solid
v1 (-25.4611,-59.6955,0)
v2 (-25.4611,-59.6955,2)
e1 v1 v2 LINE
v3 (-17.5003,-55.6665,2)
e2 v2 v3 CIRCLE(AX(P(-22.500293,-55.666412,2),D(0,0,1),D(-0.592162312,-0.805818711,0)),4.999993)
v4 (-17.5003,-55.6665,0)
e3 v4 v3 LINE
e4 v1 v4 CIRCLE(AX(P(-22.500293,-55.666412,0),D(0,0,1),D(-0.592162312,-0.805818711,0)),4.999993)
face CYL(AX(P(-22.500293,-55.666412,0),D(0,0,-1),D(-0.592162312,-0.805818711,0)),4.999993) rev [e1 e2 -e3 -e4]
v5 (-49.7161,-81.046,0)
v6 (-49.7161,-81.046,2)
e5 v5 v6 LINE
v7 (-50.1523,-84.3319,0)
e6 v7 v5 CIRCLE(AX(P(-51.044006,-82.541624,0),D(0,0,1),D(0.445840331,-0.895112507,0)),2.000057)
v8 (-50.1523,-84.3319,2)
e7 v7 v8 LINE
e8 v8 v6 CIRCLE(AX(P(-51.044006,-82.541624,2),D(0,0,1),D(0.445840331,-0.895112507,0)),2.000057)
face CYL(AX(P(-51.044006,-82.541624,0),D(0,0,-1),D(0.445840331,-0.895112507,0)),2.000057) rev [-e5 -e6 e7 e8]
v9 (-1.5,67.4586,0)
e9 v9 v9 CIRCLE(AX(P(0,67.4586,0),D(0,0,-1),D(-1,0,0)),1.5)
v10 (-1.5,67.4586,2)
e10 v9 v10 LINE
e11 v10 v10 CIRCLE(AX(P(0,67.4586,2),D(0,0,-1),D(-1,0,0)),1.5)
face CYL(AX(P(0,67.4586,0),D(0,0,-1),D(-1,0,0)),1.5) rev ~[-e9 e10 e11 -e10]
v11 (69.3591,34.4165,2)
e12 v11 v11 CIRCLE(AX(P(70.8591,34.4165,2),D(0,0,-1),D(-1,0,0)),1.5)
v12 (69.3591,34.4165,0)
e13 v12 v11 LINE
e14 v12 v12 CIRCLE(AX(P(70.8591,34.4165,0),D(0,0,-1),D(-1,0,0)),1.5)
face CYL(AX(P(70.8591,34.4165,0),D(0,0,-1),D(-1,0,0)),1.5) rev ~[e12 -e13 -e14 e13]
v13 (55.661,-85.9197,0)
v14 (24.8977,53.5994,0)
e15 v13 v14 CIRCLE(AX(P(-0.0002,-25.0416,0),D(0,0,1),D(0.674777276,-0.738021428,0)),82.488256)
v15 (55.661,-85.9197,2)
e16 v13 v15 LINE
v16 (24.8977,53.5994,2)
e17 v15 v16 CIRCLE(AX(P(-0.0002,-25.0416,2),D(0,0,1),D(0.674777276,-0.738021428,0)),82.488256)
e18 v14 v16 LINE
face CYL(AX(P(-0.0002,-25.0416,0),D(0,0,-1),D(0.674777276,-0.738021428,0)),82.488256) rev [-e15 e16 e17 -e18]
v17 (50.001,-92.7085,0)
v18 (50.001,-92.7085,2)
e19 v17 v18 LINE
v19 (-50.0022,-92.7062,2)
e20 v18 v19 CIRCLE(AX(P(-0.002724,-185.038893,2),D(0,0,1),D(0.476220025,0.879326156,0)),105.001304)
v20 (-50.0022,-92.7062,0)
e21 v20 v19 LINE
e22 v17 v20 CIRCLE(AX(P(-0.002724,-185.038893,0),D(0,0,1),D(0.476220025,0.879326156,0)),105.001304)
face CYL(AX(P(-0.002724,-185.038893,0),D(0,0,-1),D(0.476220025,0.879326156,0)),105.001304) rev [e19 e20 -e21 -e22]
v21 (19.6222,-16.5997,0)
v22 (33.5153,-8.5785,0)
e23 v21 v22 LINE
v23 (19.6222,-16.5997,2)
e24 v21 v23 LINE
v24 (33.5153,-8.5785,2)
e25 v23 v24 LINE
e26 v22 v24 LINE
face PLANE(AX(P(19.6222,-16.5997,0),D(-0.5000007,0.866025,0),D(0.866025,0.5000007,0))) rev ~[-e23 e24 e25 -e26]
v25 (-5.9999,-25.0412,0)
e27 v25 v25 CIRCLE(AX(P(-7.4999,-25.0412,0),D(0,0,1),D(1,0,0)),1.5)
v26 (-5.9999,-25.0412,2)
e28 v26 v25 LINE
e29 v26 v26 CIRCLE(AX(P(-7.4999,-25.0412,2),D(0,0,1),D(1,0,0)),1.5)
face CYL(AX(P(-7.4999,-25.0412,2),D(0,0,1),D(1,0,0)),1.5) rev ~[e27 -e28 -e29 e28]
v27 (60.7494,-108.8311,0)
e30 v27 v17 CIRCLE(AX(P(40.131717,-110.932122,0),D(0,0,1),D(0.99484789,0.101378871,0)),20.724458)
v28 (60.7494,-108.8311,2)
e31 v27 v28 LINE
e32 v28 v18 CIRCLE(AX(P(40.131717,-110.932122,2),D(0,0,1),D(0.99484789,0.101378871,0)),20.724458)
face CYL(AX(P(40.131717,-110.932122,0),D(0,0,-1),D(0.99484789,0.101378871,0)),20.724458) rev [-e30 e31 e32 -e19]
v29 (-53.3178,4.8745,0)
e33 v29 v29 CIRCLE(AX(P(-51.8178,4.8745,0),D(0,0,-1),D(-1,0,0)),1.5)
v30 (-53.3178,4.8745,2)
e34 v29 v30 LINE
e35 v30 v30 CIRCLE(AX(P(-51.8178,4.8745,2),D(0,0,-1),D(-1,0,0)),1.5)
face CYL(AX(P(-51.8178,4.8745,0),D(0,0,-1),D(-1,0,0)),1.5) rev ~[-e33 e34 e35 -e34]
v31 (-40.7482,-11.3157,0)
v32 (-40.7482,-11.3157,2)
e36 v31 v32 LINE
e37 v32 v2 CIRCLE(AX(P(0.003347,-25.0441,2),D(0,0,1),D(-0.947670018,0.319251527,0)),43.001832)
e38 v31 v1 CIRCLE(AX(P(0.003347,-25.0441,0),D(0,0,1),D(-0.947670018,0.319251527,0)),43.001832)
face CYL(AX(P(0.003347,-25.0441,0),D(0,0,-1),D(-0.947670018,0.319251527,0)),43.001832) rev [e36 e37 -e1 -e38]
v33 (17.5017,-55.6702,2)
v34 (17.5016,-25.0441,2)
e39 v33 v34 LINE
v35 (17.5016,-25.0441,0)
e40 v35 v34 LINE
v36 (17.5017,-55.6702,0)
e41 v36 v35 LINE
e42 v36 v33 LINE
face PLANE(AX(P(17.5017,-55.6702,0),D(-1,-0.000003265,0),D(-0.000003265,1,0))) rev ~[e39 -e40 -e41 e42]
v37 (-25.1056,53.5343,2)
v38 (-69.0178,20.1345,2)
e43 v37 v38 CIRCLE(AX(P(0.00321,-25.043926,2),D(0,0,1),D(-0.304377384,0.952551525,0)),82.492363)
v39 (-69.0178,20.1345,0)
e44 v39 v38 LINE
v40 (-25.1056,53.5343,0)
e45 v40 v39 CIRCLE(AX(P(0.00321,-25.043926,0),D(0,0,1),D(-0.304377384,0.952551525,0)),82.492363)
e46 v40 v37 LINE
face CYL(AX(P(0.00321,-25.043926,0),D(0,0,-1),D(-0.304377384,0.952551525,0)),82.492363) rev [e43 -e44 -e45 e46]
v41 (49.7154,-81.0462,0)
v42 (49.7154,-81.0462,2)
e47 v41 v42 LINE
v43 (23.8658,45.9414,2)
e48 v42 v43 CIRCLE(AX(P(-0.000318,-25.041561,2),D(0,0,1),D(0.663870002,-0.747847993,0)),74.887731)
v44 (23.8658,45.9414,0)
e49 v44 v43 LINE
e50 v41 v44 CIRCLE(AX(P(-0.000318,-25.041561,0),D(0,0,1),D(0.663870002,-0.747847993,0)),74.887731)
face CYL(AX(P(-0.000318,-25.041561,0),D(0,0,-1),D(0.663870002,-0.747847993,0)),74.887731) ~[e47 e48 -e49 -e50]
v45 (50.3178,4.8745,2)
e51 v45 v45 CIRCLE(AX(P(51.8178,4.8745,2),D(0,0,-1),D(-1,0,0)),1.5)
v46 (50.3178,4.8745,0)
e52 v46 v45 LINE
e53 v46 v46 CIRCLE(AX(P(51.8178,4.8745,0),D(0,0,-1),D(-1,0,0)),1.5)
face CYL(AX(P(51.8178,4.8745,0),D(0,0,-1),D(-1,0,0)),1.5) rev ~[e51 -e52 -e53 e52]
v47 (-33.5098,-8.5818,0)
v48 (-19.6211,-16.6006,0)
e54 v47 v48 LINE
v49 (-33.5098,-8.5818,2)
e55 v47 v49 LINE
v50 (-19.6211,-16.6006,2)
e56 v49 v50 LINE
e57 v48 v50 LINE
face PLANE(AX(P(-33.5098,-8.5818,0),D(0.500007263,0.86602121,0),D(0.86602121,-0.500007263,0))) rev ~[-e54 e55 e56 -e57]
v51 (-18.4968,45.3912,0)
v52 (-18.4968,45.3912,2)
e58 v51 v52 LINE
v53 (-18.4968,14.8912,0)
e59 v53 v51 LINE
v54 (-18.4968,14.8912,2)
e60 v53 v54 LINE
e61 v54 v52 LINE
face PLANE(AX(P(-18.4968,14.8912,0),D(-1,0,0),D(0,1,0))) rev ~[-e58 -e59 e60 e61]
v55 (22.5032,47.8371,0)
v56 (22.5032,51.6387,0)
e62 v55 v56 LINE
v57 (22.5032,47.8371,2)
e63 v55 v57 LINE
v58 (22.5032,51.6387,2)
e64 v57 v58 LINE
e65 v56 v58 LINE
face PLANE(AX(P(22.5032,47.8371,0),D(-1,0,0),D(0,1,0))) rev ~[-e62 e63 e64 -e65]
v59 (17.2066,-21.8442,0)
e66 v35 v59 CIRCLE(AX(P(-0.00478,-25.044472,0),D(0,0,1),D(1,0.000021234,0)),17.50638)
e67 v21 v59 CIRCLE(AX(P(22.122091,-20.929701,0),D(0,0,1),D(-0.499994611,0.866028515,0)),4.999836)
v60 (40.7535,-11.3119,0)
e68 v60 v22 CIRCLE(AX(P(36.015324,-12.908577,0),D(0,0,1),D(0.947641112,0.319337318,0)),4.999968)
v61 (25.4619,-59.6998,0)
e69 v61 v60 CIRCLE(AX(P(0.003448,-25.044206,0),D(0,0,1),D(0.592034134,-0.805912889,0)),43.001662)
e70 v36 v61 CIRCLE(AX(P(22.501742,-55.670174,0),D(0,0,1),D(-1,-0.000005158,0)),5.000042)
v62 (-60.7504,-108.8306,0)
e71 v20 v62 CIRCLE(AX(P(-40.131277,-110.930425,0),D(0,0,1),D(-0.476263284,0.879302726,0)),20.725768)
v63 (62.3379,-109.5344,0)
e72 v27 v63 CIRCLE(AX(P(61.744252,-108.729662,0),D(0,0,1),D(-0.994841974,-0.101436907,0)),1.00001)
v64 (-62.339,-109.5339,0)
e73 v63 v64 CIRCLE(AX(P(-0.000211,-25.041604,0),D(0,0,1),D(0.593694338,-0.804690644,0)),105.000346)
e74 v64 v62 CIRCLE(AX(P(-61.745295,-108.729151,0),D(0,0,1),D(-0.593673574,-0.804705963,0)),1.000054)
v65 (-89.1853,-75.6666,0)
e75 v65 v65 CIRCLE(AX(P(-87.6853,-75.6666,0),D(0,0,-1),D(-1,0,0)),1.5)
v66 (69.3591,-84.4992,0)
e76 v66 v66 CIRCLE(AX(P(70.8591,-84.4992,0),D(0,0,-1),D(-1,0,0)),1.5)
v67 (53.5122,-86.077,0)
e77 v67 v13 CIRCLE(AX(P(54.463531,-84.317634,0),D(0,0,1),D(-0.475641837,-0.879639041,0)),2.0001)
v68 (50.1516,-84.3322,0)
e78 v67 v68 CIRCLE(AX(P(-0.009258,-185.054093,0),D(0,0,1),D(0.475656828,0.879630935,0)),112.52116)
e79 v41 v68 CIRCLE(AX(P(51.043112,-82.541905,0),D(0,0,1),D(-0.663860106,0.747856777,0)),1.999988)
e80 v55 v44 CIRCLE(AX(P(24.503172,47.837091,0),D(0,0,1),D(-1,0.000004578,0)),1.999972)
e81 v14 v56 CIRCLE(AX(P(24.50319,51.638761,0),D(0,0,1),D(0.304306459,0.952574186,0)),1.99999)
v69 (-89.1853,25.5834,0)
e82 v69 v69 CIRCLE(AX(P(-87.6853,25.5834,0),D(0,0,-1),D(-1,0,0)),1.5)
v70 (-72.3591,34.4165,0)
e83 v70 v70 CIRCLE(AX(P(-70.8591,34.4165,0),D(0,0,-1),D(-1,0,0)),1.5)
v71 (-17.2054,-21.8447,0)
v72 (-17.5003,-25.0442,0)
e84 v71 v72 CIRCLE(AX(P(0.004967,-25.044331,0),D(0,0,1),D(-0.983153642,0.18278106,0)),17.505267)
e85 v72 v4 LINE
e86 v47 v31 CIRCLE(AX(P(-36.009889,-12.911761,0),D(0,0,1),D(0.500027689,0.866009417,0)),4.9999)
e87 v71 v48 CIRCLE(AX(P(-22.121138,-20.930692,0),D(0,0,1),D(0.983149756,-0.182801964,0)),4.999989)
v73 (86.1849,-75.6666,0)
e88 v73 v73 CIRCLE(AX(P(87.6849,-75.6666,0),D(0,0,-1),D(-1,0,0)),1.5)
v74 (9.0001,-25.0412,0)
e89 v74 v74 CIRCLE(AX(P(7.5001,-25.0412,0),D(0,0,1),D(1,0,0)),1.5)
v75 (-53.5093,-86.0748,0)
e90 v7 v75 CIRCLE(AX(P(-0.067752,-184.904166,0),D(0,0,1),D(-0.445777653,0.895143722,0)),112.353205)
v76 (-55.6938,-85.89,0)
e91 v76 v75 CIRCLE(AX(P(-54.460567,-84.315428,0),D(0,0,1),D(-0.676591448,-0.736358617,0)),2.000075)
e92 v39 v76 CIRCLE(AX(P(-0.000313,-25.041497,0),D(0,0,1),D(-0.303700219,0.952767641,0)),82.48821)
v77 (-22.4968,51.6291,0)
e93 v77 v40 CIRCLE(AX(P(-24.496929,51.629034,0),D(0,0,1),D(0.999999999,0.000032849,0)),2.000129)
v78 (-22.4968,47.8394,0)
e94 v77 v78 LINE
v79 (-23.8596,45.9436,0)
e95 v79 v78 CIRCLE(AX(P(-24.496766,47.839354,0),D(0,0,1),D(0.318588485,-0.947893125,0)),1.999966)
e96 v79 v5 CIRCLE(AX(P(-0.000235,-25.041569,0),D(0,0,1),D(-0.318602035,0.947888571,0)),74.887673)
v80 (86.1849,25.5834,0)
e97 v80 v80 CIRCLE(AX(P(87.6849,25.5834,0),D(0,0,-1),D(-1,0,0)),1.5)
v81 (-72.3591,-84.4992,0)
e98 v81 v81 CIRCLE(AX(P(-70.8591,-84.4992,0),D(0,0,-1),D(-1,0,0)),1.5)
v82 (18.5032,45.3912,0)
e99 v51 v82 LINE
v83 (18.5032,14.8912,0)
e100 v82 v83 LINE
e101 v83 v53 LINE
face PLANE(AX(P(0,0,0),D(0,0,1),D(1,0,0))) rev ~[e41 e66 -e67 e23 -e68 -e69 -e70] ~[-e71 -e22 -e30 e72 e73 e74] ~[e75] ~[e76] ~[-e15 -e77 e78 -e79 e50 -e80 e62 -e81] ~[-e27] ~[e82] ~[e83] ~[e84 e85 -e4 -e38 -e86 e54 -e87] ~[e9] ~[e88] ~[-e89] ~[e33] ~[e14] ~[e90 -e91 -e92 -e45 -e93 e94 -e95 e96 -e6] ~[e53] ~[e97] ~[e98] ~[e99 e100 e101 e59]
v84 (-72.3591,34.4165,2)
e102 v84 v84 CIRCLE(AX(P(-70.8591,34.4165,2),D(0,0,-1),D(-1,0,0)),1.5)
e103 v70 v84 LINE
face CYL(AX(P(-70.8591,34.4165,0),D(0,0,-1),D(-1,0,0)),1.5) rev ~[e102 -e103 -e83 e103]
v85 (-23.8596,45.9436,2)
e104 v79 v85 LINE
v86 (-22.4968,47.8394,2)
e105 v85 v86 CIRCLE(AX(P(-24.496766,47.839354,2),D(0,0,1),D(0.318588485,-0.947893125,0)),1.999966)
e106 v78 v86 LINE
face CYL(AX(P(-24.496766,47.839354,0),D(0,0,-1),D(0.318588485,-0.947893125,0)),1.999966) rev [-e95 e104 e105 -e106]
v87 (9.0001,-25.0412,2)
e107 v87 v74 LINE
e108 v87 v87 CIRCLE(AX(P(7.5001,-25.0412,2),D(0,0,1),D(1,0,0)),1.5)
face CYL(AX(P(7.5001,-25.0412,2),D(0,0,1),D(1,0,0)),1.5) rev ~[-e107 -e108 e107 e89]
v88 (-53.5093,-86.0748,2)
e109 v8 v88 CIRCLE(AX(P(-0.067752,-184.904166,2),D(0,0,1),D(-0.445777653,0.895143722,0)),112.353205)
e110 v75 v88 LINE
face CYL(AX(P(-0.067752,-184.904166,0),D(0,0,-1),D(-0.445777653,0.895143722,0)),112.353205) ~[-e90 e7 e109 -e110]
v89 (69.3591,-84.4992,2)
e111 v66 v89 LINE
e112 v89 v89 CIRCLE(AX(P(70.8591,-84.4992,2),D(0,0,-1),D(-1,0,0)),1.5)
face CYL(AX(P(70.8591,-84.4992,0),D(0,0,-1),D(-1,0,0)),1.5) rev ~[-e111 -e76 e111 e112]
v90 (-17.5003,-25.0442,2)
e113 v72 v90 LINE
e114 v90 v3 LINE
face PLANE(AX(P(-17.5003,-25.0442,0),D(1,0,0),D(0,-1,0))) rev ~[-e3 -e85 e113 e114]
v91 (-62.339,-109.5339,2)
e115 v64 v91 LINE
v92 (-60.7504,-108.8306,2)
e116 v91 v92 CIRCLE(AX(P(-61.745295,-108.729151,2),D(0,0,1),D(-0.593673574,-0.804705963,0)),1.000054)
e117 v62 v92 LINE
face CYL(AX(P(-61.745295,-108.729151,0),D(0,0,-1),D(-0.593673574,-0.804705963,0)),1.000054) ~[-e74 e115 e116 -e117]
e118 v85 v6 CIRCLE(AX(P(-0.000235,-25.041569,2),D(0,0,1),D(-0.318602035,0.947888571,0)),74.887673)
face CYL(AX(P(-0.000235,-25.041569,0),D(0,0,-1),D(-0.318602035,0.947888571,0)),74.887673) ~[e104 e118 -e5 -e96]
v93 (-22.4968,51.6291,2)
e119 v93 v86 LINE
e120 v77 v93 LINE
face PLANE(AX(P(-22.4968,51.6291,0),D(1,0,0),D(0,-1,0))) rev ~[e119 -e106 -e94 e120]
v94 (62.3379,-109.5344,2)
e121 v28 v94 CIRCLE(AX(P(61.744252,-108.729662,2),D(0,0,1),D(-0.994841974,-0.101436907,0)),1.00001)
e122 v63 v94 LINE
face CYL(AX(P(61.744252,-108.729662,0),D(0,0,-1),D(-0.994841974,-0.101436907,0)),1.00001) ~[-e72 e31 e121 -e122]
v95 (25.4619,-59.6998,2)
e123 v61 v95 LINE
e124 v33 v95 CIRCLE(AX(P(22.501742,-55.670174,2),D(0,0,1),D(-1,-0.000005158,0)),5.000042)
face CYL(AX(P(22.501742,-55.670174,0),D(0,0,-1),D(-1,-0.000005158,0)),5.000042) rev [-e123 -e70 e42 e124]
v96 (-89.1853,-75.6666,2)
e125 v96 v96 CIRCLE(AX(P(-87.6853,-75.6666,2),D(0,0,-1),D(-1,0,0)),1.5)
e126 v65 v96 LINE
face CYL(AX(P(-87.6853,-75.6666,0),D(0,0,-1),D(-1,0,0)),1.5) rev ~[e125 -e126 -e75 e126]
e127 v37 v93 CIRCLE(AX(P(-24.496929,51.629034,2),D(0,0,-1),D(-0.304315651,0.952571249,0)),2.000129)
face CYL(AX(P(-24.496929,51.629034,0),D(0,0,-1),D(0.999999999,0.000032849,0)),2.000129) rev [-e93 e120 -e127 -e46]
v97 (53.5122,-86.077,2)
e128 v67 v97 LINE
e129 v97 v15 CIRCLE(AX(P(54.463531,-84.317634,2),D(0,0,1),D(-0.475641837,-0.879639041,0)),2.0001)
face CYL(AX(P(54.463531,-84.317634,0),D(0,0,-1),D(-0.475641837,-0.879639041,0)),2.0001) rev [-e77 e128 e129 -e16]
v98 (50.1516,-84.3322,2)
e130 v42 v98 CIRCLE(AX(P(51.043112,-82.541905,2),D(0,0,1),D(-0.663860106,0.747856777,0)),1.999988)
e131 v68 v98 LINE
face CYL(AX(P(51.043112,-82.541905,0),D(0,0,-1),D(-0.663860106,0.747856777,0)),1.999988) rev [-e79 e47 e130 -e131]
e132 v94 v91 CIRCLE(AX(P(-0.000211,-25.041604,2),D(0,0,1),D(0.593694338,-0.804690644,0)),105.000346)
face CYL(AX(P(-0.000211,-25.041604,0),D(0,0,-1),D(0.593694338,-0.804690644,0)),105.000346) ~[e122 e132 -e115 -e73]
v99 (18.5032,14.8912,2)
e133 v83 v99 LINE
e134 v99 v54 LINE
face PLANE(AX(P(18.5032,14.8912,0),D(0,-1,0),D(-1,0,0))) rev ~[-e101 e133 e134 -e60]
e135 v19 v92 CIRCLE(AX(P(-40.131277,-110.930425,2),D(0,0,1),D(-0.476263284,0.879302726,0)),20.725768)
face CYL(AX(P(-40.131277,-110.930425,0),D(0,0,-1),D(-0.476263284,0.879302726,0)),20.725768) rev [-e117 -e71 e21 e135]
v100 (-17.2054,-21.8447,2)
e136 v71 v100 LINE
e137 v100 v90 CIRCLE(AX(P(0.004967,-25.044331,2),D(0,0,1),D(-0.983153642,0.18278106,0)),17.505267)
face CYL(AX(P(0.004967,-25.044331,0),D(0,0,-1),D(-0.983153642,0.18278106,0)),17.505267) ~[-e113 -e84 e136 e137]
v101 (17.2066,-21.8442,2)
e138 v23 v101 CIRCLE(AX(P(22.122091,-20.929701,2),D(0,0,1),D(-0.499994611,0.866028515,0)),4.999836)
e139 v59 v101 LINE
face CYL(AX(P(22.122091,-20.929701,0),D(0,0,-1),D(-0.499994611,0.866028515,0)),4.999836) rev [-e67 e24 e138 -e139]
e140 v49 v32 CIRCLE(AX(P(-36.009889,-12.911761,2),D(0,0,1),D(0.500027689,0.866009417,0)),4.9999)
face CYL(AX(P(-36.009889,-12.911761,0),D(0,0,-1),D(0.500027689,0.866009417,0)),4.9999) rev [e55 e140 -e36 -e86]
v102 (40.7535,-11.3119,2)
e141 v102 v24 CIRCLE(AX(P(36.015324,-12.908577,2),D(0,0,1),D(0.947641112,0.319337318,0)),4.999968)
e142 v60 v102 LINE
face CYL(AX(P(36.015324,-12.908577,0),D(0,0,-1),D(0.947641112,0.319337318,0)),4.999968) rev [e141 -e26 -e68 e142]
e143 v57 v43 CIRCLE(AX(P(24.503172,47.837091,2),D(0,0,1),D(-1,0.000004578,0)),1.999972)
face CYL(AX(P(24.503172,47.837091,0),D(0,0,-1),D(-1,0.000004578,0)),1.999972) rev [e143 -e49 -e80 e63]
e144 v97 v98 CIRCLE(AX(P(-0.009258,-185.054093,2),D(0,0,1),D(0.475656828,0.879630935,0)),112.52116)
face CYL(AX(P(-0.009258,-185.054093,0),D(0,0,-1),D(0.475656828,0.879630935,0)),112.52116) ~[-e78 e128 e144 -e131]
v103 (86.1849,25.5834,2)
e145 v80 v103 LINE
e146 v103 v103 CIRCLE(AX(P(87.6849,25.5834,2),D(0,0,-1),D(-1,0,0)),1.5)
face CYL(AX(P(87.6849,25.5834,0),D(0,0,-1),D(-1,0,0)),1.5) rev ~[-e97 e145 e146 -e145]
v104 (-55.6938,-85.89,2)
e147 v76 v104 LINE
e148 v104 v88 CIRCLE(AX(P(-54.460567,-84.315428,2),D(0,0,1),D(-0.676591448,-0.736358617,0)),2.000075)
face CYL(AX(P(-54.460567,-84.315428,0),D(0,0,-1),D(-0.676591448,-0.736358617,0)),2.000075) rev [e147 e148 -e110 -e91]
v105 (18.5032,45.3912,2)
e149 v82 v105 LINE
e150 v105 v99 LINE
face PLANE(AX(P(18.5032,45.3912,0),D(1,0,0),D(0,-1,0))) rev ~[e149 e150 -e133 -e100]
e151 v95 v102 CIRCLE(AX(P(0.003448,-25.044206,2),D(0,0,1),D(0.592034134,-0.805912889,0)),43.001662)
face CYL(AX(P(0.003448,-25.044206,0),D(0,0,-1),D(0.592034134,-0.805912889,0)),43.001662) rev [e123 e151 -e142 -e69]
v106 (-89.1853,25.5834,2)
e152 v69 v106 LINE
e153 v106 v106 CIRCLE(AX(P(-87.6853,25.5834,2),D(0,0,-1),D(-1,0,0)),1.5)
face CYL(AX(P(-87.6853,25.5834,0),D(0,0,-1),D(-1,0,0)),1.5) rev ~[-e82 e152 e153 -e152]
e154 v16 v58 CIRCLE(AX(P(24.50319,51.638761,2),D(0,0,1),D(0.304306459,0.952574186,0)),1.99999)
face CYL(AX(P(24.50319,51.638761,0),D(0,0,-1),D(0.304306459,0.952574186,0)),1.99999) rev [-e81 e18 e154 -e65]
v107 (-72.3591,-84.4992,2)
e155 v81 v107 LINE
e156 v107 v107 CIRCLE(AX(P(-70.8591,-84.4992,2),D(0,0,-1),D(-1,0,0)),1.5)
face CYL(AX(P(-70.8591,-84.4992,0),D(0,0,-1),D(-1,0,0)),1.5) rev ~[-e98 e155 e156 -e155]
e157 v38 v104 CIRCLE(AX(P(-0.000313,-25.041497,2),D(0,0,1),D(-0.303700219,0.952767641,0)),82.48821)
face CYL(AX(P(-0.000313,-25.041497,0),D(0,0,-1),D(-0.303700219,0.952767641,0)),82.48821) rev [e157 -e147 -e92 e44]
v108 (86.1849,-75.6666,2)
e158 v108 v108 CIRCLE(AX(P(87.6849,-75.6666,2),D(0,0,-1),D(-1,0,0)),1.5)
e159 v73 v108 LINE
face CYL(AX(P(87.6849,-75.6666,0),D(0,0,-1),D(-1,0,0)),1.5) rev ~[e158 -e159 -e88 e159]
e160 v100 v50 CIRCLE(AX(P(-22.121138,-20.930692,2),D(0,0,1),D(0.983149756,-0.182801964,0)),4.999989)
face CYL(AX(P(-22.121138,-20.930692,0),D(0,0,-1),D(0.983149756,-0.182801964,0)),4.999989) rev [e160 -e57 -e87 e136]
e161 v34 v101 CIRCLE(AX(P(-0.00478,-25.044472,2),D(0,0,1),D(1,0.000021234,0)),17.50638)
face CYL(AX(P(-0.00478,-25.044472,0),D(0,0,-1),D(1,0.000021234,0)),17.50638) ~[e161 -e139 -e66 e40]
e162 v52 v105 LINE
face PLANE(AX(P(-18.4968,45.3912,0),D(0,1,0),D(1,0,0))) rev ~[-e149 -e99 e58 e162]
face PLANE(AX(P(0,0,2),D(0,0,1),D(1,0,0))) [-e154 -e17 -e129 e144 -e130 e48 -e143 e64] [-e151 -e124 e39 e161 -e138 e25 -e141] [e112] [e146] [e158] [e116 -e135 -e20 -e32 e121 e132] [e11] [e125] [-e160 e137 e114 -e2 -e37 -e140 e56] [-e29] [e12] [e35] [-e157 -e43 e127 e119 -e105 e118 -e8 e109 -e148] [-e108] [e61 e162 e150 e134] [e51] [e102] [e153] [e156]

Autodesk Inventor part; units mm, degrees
ref_plane "YZ Plane" through (0, 0, 0) normal (1, 0, 0) x (0, 1, 0)
ref_plane "XZ Plane" through (0, 0, 0) normal (0, 1, 0) x (-1, 0, 0)
ref_plane "XY Plane" through (0, 0, 0) normal (0, 0, 1) x (1, 0, 0)
sketch "Sketch1" plane through (0, 0, 0) normal (0, 0, 1) x (1, 0, 0)
  line L0 (18.5032, 45.3912) -> (18.5032, 14.8912) projected
  line L1 (18.5032, 14.8912) -> (-18.4968, 14.8912) projected
  line L2 (-18.4968, 14.8912) -> (-18.4968, 45.3912) projected
  line L3 (-18.4968, 45.3912) -> (18.5032, 45.3912) projected
  arc A0 (17.5017, -55.6702) -> (25.4619, -59.6998) centre (22.5017, -55.6702) ccw projected
  line L4 (17.5017, -55.6702) -> (17.5016, -25.0441) projected
  arc A1 (17.5016, -25.0441) -> (17.2066, -21.8442) centre (0.0033, -25.0441) ccw projected
  arc A2 (19.6222, -16.5997) -> (17.2066, -21.8442) centre (22.1222, -20.9298) ccw projected
  line L5 (19.6222, -16.5997) -> (33.5153, -8.5785) projected
  arc A3 (40.7535, -11.3119) -> (33.5153, -8.5785) centre (36.0153, -12.9086) ccw projected
  arc A4 (25.4619, -59.6998) -> (40.7535, -11.3119) centre (0.0033, -25.0441) ccw projected
  arc A5 (-17.2054, -21.8447) -> (-19.6211, -16.6006) centre (-22.1212, -20.9307) ccw projected
  arc A6 (-17.2054, -21.8447) -> (-17.5003, -25.0442) centre (0.0033, -25.0441) ccw projected
  line L6 (-17.5003, -25.0442) -> (-17.5003, -55.6665) projected
  arc A7 (-25.4611, -59.6955) -> (-17.5003, -55.6665) centre (-22.5003, -55.6665) ccw projected
  arc A8 (-40.7482, -11.3157) -> (-25.4611, -59.6955) centre (0.0033, -25.0441) ccw projected
  arc A9 (-33.5098, -8.5818) -> (-40.7482, -11.3157) centre (-36.0099, -12.9119) ccw projected
  line L7 (-33.5098, -8.5818) -> (-19.6211, -16.6006) projected
  line L8 (22.5032, 47.8371) -> (22.5032, 51.6387)
  arc A10 (25.1118, 53.5439) -> (22.5032, 51.6387) centre (24.5032, 51.6387) ccw
  arc A11 (-25.1056, 53.5343) -> (-69.0178, 20.1345) centre (0.0033, -25.0441) ccw projected
  arc A12 (-22.4968, 51.6291) -> (-25.1056, 53.5343) centre (-24.4968, 51.6291) ccw
  line L9 (-22.4968, 51.6291) -> (-22.4968, 47.8394)
  arc A13 (53.5122, -86.077) -> (55.8167, -85.7905) centre (54.4635, -84.3178) ccw
  arc A14 (53.5122, -86.077) -> (50.1516, -84.3322) centre (-0.0002, -185.037) ccw
  arc A15 (-50.1523, -84.3319) -> (-53.5093, -86.0748) centre (-0.0002, -185.037) ccw
  arc A16 (-55.8138, -85.7882) -> (-53.5093, -86.0748) centre (-54.4606, -84.3155) ccw
  arc A17 (-62.339, -109.5339) -> (-60.7504, -108.8306) centre (-61.7453, -108.7292) ccw projected
  arc A18 (-50.0022, -92.7062) -> (-60.7504, -108.8306) centre (-40.1313, -110.9304) ccw projected
  arc A19 (50.001, -92.7085) -> (-50.0022, -92.7062) centre (-0.0027, -185.0388) ccw projected
  arc A20 (60.7494, -108.8311) -> (50.001, -92.7085) centre (40.1315, -110.9322) ccw projected
  arc A21 (60.7494, -108.8311) -> (62.3379, -109.5344) centre (61.7442, -108.7297) ccw projected
  arc A22 (62.3379, -109.5344) -> (-62.339, -109.5339) centre (-0.0002, -25.0416) ccw projected
  arc A23 (49.7154, -81.0462) -> (23.8658, 45.9414) centre (-0.0002, -25.0416) ccw
  arc A24 (-23.8596, 45.9436) -> (-49.7161, -81.046) centre (-0.0002, -25.0416) ccw
  arc A25 (55.661, -85.9197) -> (24.8977, 53.5994) centre (-0.0002, -25.0416) ccw
  arc A26 (-25.052, 53.5506) -> (-55.6938, -85.89) centre (-0.0002, -25.0416) ccw
  arc A27 (-50.1523, -84.3319) -> (-49.7161, -81.046) centre (-51.0439, -82.5417) ccw
  arc A28 (49.7154, -81.0462) -> (50.1516, -84.3322) centre (51.0431, -82.5419) ccw
  arc A29 (22.5032, 47.8371) -> (23.8658, 45.9414) centre (24.5032, 47.8371) ccw
  arc A30 (-23.8596, 45.9436) -> (-22.4968, 47.8394) centre (-24.4968, 47.8394) ccw
  point P0 (0, 0)
  point P1 (22.5032, 46.385)
  point P2 (-22.4968, 46.3872)
  dimension "d31" = 2
extrude "Extrusion11" add sketch "Sketch1" along normal blind 2
ref_plane "Work Plane9" through (0, 0, 2) normal (0, 0, 1) x (1, 0, 0)
sketch "Sketch4" plane through (0, 0, 2) normal (0, 0, 1) x (1, 0, 0)
  circle A0 centre (0.0001, -25.0412) radius 10.8 projected
  line L0 (0.0001, -25.0412) -> (-7.4999, -25.0412) construction
  circle A1 centre (-7.4999, -25.0412) radius 1.5
  line L1 (0.0001, -25.0412) -> (7.5001, -25.0412) construction
  circle A2 centre (7.5001, -25.0412) radius 1.5
  point P0 (0, 0)
  dimension "d19" = 7.5
  dimension "d20" = 3
  dimension "d21" = 7.5
  dimension "d22" = 3
extrude "Extrusion7" cut sketch "Sketch4" against normal up to next contours A1 | A2
sketch "Sketch8" plane through (0, 0, 0) normal (0, 0, -1) x (-1, 0, 0)
  circle A0 centre (70.8591, 34.4165) radius 1.5
  circle A1 centre (87.6853, 25.5834) radius 1.5
  circle A2 centre (87.6853, -75.6666) radius 1.5
  circle A3 centre (70.8591, -84.4992) radius 1.5
  circle A4 centre (51.8178, 4.8745) radius 1.5
  circle A5 centre (0, 67.4586) radius 1.5
  circle A6 centre (-70.8591, 34.4165) radius 1.5
  circle A7 centre (-51.8178, 4.8745) radius 1.5
  circle A8 centre (-87.6849, 25.5834) radius 1.5
  circle A9 centre (-87.6849, -75.6666) radius 1.5
  circle A10 centre (-70.8591, -84.4992) radius 1.5
  point P0 (0, 0)
extrude "Extrusion12" cut sketch "Sketch8" against normal blind 2
properties part number "4th Board"
